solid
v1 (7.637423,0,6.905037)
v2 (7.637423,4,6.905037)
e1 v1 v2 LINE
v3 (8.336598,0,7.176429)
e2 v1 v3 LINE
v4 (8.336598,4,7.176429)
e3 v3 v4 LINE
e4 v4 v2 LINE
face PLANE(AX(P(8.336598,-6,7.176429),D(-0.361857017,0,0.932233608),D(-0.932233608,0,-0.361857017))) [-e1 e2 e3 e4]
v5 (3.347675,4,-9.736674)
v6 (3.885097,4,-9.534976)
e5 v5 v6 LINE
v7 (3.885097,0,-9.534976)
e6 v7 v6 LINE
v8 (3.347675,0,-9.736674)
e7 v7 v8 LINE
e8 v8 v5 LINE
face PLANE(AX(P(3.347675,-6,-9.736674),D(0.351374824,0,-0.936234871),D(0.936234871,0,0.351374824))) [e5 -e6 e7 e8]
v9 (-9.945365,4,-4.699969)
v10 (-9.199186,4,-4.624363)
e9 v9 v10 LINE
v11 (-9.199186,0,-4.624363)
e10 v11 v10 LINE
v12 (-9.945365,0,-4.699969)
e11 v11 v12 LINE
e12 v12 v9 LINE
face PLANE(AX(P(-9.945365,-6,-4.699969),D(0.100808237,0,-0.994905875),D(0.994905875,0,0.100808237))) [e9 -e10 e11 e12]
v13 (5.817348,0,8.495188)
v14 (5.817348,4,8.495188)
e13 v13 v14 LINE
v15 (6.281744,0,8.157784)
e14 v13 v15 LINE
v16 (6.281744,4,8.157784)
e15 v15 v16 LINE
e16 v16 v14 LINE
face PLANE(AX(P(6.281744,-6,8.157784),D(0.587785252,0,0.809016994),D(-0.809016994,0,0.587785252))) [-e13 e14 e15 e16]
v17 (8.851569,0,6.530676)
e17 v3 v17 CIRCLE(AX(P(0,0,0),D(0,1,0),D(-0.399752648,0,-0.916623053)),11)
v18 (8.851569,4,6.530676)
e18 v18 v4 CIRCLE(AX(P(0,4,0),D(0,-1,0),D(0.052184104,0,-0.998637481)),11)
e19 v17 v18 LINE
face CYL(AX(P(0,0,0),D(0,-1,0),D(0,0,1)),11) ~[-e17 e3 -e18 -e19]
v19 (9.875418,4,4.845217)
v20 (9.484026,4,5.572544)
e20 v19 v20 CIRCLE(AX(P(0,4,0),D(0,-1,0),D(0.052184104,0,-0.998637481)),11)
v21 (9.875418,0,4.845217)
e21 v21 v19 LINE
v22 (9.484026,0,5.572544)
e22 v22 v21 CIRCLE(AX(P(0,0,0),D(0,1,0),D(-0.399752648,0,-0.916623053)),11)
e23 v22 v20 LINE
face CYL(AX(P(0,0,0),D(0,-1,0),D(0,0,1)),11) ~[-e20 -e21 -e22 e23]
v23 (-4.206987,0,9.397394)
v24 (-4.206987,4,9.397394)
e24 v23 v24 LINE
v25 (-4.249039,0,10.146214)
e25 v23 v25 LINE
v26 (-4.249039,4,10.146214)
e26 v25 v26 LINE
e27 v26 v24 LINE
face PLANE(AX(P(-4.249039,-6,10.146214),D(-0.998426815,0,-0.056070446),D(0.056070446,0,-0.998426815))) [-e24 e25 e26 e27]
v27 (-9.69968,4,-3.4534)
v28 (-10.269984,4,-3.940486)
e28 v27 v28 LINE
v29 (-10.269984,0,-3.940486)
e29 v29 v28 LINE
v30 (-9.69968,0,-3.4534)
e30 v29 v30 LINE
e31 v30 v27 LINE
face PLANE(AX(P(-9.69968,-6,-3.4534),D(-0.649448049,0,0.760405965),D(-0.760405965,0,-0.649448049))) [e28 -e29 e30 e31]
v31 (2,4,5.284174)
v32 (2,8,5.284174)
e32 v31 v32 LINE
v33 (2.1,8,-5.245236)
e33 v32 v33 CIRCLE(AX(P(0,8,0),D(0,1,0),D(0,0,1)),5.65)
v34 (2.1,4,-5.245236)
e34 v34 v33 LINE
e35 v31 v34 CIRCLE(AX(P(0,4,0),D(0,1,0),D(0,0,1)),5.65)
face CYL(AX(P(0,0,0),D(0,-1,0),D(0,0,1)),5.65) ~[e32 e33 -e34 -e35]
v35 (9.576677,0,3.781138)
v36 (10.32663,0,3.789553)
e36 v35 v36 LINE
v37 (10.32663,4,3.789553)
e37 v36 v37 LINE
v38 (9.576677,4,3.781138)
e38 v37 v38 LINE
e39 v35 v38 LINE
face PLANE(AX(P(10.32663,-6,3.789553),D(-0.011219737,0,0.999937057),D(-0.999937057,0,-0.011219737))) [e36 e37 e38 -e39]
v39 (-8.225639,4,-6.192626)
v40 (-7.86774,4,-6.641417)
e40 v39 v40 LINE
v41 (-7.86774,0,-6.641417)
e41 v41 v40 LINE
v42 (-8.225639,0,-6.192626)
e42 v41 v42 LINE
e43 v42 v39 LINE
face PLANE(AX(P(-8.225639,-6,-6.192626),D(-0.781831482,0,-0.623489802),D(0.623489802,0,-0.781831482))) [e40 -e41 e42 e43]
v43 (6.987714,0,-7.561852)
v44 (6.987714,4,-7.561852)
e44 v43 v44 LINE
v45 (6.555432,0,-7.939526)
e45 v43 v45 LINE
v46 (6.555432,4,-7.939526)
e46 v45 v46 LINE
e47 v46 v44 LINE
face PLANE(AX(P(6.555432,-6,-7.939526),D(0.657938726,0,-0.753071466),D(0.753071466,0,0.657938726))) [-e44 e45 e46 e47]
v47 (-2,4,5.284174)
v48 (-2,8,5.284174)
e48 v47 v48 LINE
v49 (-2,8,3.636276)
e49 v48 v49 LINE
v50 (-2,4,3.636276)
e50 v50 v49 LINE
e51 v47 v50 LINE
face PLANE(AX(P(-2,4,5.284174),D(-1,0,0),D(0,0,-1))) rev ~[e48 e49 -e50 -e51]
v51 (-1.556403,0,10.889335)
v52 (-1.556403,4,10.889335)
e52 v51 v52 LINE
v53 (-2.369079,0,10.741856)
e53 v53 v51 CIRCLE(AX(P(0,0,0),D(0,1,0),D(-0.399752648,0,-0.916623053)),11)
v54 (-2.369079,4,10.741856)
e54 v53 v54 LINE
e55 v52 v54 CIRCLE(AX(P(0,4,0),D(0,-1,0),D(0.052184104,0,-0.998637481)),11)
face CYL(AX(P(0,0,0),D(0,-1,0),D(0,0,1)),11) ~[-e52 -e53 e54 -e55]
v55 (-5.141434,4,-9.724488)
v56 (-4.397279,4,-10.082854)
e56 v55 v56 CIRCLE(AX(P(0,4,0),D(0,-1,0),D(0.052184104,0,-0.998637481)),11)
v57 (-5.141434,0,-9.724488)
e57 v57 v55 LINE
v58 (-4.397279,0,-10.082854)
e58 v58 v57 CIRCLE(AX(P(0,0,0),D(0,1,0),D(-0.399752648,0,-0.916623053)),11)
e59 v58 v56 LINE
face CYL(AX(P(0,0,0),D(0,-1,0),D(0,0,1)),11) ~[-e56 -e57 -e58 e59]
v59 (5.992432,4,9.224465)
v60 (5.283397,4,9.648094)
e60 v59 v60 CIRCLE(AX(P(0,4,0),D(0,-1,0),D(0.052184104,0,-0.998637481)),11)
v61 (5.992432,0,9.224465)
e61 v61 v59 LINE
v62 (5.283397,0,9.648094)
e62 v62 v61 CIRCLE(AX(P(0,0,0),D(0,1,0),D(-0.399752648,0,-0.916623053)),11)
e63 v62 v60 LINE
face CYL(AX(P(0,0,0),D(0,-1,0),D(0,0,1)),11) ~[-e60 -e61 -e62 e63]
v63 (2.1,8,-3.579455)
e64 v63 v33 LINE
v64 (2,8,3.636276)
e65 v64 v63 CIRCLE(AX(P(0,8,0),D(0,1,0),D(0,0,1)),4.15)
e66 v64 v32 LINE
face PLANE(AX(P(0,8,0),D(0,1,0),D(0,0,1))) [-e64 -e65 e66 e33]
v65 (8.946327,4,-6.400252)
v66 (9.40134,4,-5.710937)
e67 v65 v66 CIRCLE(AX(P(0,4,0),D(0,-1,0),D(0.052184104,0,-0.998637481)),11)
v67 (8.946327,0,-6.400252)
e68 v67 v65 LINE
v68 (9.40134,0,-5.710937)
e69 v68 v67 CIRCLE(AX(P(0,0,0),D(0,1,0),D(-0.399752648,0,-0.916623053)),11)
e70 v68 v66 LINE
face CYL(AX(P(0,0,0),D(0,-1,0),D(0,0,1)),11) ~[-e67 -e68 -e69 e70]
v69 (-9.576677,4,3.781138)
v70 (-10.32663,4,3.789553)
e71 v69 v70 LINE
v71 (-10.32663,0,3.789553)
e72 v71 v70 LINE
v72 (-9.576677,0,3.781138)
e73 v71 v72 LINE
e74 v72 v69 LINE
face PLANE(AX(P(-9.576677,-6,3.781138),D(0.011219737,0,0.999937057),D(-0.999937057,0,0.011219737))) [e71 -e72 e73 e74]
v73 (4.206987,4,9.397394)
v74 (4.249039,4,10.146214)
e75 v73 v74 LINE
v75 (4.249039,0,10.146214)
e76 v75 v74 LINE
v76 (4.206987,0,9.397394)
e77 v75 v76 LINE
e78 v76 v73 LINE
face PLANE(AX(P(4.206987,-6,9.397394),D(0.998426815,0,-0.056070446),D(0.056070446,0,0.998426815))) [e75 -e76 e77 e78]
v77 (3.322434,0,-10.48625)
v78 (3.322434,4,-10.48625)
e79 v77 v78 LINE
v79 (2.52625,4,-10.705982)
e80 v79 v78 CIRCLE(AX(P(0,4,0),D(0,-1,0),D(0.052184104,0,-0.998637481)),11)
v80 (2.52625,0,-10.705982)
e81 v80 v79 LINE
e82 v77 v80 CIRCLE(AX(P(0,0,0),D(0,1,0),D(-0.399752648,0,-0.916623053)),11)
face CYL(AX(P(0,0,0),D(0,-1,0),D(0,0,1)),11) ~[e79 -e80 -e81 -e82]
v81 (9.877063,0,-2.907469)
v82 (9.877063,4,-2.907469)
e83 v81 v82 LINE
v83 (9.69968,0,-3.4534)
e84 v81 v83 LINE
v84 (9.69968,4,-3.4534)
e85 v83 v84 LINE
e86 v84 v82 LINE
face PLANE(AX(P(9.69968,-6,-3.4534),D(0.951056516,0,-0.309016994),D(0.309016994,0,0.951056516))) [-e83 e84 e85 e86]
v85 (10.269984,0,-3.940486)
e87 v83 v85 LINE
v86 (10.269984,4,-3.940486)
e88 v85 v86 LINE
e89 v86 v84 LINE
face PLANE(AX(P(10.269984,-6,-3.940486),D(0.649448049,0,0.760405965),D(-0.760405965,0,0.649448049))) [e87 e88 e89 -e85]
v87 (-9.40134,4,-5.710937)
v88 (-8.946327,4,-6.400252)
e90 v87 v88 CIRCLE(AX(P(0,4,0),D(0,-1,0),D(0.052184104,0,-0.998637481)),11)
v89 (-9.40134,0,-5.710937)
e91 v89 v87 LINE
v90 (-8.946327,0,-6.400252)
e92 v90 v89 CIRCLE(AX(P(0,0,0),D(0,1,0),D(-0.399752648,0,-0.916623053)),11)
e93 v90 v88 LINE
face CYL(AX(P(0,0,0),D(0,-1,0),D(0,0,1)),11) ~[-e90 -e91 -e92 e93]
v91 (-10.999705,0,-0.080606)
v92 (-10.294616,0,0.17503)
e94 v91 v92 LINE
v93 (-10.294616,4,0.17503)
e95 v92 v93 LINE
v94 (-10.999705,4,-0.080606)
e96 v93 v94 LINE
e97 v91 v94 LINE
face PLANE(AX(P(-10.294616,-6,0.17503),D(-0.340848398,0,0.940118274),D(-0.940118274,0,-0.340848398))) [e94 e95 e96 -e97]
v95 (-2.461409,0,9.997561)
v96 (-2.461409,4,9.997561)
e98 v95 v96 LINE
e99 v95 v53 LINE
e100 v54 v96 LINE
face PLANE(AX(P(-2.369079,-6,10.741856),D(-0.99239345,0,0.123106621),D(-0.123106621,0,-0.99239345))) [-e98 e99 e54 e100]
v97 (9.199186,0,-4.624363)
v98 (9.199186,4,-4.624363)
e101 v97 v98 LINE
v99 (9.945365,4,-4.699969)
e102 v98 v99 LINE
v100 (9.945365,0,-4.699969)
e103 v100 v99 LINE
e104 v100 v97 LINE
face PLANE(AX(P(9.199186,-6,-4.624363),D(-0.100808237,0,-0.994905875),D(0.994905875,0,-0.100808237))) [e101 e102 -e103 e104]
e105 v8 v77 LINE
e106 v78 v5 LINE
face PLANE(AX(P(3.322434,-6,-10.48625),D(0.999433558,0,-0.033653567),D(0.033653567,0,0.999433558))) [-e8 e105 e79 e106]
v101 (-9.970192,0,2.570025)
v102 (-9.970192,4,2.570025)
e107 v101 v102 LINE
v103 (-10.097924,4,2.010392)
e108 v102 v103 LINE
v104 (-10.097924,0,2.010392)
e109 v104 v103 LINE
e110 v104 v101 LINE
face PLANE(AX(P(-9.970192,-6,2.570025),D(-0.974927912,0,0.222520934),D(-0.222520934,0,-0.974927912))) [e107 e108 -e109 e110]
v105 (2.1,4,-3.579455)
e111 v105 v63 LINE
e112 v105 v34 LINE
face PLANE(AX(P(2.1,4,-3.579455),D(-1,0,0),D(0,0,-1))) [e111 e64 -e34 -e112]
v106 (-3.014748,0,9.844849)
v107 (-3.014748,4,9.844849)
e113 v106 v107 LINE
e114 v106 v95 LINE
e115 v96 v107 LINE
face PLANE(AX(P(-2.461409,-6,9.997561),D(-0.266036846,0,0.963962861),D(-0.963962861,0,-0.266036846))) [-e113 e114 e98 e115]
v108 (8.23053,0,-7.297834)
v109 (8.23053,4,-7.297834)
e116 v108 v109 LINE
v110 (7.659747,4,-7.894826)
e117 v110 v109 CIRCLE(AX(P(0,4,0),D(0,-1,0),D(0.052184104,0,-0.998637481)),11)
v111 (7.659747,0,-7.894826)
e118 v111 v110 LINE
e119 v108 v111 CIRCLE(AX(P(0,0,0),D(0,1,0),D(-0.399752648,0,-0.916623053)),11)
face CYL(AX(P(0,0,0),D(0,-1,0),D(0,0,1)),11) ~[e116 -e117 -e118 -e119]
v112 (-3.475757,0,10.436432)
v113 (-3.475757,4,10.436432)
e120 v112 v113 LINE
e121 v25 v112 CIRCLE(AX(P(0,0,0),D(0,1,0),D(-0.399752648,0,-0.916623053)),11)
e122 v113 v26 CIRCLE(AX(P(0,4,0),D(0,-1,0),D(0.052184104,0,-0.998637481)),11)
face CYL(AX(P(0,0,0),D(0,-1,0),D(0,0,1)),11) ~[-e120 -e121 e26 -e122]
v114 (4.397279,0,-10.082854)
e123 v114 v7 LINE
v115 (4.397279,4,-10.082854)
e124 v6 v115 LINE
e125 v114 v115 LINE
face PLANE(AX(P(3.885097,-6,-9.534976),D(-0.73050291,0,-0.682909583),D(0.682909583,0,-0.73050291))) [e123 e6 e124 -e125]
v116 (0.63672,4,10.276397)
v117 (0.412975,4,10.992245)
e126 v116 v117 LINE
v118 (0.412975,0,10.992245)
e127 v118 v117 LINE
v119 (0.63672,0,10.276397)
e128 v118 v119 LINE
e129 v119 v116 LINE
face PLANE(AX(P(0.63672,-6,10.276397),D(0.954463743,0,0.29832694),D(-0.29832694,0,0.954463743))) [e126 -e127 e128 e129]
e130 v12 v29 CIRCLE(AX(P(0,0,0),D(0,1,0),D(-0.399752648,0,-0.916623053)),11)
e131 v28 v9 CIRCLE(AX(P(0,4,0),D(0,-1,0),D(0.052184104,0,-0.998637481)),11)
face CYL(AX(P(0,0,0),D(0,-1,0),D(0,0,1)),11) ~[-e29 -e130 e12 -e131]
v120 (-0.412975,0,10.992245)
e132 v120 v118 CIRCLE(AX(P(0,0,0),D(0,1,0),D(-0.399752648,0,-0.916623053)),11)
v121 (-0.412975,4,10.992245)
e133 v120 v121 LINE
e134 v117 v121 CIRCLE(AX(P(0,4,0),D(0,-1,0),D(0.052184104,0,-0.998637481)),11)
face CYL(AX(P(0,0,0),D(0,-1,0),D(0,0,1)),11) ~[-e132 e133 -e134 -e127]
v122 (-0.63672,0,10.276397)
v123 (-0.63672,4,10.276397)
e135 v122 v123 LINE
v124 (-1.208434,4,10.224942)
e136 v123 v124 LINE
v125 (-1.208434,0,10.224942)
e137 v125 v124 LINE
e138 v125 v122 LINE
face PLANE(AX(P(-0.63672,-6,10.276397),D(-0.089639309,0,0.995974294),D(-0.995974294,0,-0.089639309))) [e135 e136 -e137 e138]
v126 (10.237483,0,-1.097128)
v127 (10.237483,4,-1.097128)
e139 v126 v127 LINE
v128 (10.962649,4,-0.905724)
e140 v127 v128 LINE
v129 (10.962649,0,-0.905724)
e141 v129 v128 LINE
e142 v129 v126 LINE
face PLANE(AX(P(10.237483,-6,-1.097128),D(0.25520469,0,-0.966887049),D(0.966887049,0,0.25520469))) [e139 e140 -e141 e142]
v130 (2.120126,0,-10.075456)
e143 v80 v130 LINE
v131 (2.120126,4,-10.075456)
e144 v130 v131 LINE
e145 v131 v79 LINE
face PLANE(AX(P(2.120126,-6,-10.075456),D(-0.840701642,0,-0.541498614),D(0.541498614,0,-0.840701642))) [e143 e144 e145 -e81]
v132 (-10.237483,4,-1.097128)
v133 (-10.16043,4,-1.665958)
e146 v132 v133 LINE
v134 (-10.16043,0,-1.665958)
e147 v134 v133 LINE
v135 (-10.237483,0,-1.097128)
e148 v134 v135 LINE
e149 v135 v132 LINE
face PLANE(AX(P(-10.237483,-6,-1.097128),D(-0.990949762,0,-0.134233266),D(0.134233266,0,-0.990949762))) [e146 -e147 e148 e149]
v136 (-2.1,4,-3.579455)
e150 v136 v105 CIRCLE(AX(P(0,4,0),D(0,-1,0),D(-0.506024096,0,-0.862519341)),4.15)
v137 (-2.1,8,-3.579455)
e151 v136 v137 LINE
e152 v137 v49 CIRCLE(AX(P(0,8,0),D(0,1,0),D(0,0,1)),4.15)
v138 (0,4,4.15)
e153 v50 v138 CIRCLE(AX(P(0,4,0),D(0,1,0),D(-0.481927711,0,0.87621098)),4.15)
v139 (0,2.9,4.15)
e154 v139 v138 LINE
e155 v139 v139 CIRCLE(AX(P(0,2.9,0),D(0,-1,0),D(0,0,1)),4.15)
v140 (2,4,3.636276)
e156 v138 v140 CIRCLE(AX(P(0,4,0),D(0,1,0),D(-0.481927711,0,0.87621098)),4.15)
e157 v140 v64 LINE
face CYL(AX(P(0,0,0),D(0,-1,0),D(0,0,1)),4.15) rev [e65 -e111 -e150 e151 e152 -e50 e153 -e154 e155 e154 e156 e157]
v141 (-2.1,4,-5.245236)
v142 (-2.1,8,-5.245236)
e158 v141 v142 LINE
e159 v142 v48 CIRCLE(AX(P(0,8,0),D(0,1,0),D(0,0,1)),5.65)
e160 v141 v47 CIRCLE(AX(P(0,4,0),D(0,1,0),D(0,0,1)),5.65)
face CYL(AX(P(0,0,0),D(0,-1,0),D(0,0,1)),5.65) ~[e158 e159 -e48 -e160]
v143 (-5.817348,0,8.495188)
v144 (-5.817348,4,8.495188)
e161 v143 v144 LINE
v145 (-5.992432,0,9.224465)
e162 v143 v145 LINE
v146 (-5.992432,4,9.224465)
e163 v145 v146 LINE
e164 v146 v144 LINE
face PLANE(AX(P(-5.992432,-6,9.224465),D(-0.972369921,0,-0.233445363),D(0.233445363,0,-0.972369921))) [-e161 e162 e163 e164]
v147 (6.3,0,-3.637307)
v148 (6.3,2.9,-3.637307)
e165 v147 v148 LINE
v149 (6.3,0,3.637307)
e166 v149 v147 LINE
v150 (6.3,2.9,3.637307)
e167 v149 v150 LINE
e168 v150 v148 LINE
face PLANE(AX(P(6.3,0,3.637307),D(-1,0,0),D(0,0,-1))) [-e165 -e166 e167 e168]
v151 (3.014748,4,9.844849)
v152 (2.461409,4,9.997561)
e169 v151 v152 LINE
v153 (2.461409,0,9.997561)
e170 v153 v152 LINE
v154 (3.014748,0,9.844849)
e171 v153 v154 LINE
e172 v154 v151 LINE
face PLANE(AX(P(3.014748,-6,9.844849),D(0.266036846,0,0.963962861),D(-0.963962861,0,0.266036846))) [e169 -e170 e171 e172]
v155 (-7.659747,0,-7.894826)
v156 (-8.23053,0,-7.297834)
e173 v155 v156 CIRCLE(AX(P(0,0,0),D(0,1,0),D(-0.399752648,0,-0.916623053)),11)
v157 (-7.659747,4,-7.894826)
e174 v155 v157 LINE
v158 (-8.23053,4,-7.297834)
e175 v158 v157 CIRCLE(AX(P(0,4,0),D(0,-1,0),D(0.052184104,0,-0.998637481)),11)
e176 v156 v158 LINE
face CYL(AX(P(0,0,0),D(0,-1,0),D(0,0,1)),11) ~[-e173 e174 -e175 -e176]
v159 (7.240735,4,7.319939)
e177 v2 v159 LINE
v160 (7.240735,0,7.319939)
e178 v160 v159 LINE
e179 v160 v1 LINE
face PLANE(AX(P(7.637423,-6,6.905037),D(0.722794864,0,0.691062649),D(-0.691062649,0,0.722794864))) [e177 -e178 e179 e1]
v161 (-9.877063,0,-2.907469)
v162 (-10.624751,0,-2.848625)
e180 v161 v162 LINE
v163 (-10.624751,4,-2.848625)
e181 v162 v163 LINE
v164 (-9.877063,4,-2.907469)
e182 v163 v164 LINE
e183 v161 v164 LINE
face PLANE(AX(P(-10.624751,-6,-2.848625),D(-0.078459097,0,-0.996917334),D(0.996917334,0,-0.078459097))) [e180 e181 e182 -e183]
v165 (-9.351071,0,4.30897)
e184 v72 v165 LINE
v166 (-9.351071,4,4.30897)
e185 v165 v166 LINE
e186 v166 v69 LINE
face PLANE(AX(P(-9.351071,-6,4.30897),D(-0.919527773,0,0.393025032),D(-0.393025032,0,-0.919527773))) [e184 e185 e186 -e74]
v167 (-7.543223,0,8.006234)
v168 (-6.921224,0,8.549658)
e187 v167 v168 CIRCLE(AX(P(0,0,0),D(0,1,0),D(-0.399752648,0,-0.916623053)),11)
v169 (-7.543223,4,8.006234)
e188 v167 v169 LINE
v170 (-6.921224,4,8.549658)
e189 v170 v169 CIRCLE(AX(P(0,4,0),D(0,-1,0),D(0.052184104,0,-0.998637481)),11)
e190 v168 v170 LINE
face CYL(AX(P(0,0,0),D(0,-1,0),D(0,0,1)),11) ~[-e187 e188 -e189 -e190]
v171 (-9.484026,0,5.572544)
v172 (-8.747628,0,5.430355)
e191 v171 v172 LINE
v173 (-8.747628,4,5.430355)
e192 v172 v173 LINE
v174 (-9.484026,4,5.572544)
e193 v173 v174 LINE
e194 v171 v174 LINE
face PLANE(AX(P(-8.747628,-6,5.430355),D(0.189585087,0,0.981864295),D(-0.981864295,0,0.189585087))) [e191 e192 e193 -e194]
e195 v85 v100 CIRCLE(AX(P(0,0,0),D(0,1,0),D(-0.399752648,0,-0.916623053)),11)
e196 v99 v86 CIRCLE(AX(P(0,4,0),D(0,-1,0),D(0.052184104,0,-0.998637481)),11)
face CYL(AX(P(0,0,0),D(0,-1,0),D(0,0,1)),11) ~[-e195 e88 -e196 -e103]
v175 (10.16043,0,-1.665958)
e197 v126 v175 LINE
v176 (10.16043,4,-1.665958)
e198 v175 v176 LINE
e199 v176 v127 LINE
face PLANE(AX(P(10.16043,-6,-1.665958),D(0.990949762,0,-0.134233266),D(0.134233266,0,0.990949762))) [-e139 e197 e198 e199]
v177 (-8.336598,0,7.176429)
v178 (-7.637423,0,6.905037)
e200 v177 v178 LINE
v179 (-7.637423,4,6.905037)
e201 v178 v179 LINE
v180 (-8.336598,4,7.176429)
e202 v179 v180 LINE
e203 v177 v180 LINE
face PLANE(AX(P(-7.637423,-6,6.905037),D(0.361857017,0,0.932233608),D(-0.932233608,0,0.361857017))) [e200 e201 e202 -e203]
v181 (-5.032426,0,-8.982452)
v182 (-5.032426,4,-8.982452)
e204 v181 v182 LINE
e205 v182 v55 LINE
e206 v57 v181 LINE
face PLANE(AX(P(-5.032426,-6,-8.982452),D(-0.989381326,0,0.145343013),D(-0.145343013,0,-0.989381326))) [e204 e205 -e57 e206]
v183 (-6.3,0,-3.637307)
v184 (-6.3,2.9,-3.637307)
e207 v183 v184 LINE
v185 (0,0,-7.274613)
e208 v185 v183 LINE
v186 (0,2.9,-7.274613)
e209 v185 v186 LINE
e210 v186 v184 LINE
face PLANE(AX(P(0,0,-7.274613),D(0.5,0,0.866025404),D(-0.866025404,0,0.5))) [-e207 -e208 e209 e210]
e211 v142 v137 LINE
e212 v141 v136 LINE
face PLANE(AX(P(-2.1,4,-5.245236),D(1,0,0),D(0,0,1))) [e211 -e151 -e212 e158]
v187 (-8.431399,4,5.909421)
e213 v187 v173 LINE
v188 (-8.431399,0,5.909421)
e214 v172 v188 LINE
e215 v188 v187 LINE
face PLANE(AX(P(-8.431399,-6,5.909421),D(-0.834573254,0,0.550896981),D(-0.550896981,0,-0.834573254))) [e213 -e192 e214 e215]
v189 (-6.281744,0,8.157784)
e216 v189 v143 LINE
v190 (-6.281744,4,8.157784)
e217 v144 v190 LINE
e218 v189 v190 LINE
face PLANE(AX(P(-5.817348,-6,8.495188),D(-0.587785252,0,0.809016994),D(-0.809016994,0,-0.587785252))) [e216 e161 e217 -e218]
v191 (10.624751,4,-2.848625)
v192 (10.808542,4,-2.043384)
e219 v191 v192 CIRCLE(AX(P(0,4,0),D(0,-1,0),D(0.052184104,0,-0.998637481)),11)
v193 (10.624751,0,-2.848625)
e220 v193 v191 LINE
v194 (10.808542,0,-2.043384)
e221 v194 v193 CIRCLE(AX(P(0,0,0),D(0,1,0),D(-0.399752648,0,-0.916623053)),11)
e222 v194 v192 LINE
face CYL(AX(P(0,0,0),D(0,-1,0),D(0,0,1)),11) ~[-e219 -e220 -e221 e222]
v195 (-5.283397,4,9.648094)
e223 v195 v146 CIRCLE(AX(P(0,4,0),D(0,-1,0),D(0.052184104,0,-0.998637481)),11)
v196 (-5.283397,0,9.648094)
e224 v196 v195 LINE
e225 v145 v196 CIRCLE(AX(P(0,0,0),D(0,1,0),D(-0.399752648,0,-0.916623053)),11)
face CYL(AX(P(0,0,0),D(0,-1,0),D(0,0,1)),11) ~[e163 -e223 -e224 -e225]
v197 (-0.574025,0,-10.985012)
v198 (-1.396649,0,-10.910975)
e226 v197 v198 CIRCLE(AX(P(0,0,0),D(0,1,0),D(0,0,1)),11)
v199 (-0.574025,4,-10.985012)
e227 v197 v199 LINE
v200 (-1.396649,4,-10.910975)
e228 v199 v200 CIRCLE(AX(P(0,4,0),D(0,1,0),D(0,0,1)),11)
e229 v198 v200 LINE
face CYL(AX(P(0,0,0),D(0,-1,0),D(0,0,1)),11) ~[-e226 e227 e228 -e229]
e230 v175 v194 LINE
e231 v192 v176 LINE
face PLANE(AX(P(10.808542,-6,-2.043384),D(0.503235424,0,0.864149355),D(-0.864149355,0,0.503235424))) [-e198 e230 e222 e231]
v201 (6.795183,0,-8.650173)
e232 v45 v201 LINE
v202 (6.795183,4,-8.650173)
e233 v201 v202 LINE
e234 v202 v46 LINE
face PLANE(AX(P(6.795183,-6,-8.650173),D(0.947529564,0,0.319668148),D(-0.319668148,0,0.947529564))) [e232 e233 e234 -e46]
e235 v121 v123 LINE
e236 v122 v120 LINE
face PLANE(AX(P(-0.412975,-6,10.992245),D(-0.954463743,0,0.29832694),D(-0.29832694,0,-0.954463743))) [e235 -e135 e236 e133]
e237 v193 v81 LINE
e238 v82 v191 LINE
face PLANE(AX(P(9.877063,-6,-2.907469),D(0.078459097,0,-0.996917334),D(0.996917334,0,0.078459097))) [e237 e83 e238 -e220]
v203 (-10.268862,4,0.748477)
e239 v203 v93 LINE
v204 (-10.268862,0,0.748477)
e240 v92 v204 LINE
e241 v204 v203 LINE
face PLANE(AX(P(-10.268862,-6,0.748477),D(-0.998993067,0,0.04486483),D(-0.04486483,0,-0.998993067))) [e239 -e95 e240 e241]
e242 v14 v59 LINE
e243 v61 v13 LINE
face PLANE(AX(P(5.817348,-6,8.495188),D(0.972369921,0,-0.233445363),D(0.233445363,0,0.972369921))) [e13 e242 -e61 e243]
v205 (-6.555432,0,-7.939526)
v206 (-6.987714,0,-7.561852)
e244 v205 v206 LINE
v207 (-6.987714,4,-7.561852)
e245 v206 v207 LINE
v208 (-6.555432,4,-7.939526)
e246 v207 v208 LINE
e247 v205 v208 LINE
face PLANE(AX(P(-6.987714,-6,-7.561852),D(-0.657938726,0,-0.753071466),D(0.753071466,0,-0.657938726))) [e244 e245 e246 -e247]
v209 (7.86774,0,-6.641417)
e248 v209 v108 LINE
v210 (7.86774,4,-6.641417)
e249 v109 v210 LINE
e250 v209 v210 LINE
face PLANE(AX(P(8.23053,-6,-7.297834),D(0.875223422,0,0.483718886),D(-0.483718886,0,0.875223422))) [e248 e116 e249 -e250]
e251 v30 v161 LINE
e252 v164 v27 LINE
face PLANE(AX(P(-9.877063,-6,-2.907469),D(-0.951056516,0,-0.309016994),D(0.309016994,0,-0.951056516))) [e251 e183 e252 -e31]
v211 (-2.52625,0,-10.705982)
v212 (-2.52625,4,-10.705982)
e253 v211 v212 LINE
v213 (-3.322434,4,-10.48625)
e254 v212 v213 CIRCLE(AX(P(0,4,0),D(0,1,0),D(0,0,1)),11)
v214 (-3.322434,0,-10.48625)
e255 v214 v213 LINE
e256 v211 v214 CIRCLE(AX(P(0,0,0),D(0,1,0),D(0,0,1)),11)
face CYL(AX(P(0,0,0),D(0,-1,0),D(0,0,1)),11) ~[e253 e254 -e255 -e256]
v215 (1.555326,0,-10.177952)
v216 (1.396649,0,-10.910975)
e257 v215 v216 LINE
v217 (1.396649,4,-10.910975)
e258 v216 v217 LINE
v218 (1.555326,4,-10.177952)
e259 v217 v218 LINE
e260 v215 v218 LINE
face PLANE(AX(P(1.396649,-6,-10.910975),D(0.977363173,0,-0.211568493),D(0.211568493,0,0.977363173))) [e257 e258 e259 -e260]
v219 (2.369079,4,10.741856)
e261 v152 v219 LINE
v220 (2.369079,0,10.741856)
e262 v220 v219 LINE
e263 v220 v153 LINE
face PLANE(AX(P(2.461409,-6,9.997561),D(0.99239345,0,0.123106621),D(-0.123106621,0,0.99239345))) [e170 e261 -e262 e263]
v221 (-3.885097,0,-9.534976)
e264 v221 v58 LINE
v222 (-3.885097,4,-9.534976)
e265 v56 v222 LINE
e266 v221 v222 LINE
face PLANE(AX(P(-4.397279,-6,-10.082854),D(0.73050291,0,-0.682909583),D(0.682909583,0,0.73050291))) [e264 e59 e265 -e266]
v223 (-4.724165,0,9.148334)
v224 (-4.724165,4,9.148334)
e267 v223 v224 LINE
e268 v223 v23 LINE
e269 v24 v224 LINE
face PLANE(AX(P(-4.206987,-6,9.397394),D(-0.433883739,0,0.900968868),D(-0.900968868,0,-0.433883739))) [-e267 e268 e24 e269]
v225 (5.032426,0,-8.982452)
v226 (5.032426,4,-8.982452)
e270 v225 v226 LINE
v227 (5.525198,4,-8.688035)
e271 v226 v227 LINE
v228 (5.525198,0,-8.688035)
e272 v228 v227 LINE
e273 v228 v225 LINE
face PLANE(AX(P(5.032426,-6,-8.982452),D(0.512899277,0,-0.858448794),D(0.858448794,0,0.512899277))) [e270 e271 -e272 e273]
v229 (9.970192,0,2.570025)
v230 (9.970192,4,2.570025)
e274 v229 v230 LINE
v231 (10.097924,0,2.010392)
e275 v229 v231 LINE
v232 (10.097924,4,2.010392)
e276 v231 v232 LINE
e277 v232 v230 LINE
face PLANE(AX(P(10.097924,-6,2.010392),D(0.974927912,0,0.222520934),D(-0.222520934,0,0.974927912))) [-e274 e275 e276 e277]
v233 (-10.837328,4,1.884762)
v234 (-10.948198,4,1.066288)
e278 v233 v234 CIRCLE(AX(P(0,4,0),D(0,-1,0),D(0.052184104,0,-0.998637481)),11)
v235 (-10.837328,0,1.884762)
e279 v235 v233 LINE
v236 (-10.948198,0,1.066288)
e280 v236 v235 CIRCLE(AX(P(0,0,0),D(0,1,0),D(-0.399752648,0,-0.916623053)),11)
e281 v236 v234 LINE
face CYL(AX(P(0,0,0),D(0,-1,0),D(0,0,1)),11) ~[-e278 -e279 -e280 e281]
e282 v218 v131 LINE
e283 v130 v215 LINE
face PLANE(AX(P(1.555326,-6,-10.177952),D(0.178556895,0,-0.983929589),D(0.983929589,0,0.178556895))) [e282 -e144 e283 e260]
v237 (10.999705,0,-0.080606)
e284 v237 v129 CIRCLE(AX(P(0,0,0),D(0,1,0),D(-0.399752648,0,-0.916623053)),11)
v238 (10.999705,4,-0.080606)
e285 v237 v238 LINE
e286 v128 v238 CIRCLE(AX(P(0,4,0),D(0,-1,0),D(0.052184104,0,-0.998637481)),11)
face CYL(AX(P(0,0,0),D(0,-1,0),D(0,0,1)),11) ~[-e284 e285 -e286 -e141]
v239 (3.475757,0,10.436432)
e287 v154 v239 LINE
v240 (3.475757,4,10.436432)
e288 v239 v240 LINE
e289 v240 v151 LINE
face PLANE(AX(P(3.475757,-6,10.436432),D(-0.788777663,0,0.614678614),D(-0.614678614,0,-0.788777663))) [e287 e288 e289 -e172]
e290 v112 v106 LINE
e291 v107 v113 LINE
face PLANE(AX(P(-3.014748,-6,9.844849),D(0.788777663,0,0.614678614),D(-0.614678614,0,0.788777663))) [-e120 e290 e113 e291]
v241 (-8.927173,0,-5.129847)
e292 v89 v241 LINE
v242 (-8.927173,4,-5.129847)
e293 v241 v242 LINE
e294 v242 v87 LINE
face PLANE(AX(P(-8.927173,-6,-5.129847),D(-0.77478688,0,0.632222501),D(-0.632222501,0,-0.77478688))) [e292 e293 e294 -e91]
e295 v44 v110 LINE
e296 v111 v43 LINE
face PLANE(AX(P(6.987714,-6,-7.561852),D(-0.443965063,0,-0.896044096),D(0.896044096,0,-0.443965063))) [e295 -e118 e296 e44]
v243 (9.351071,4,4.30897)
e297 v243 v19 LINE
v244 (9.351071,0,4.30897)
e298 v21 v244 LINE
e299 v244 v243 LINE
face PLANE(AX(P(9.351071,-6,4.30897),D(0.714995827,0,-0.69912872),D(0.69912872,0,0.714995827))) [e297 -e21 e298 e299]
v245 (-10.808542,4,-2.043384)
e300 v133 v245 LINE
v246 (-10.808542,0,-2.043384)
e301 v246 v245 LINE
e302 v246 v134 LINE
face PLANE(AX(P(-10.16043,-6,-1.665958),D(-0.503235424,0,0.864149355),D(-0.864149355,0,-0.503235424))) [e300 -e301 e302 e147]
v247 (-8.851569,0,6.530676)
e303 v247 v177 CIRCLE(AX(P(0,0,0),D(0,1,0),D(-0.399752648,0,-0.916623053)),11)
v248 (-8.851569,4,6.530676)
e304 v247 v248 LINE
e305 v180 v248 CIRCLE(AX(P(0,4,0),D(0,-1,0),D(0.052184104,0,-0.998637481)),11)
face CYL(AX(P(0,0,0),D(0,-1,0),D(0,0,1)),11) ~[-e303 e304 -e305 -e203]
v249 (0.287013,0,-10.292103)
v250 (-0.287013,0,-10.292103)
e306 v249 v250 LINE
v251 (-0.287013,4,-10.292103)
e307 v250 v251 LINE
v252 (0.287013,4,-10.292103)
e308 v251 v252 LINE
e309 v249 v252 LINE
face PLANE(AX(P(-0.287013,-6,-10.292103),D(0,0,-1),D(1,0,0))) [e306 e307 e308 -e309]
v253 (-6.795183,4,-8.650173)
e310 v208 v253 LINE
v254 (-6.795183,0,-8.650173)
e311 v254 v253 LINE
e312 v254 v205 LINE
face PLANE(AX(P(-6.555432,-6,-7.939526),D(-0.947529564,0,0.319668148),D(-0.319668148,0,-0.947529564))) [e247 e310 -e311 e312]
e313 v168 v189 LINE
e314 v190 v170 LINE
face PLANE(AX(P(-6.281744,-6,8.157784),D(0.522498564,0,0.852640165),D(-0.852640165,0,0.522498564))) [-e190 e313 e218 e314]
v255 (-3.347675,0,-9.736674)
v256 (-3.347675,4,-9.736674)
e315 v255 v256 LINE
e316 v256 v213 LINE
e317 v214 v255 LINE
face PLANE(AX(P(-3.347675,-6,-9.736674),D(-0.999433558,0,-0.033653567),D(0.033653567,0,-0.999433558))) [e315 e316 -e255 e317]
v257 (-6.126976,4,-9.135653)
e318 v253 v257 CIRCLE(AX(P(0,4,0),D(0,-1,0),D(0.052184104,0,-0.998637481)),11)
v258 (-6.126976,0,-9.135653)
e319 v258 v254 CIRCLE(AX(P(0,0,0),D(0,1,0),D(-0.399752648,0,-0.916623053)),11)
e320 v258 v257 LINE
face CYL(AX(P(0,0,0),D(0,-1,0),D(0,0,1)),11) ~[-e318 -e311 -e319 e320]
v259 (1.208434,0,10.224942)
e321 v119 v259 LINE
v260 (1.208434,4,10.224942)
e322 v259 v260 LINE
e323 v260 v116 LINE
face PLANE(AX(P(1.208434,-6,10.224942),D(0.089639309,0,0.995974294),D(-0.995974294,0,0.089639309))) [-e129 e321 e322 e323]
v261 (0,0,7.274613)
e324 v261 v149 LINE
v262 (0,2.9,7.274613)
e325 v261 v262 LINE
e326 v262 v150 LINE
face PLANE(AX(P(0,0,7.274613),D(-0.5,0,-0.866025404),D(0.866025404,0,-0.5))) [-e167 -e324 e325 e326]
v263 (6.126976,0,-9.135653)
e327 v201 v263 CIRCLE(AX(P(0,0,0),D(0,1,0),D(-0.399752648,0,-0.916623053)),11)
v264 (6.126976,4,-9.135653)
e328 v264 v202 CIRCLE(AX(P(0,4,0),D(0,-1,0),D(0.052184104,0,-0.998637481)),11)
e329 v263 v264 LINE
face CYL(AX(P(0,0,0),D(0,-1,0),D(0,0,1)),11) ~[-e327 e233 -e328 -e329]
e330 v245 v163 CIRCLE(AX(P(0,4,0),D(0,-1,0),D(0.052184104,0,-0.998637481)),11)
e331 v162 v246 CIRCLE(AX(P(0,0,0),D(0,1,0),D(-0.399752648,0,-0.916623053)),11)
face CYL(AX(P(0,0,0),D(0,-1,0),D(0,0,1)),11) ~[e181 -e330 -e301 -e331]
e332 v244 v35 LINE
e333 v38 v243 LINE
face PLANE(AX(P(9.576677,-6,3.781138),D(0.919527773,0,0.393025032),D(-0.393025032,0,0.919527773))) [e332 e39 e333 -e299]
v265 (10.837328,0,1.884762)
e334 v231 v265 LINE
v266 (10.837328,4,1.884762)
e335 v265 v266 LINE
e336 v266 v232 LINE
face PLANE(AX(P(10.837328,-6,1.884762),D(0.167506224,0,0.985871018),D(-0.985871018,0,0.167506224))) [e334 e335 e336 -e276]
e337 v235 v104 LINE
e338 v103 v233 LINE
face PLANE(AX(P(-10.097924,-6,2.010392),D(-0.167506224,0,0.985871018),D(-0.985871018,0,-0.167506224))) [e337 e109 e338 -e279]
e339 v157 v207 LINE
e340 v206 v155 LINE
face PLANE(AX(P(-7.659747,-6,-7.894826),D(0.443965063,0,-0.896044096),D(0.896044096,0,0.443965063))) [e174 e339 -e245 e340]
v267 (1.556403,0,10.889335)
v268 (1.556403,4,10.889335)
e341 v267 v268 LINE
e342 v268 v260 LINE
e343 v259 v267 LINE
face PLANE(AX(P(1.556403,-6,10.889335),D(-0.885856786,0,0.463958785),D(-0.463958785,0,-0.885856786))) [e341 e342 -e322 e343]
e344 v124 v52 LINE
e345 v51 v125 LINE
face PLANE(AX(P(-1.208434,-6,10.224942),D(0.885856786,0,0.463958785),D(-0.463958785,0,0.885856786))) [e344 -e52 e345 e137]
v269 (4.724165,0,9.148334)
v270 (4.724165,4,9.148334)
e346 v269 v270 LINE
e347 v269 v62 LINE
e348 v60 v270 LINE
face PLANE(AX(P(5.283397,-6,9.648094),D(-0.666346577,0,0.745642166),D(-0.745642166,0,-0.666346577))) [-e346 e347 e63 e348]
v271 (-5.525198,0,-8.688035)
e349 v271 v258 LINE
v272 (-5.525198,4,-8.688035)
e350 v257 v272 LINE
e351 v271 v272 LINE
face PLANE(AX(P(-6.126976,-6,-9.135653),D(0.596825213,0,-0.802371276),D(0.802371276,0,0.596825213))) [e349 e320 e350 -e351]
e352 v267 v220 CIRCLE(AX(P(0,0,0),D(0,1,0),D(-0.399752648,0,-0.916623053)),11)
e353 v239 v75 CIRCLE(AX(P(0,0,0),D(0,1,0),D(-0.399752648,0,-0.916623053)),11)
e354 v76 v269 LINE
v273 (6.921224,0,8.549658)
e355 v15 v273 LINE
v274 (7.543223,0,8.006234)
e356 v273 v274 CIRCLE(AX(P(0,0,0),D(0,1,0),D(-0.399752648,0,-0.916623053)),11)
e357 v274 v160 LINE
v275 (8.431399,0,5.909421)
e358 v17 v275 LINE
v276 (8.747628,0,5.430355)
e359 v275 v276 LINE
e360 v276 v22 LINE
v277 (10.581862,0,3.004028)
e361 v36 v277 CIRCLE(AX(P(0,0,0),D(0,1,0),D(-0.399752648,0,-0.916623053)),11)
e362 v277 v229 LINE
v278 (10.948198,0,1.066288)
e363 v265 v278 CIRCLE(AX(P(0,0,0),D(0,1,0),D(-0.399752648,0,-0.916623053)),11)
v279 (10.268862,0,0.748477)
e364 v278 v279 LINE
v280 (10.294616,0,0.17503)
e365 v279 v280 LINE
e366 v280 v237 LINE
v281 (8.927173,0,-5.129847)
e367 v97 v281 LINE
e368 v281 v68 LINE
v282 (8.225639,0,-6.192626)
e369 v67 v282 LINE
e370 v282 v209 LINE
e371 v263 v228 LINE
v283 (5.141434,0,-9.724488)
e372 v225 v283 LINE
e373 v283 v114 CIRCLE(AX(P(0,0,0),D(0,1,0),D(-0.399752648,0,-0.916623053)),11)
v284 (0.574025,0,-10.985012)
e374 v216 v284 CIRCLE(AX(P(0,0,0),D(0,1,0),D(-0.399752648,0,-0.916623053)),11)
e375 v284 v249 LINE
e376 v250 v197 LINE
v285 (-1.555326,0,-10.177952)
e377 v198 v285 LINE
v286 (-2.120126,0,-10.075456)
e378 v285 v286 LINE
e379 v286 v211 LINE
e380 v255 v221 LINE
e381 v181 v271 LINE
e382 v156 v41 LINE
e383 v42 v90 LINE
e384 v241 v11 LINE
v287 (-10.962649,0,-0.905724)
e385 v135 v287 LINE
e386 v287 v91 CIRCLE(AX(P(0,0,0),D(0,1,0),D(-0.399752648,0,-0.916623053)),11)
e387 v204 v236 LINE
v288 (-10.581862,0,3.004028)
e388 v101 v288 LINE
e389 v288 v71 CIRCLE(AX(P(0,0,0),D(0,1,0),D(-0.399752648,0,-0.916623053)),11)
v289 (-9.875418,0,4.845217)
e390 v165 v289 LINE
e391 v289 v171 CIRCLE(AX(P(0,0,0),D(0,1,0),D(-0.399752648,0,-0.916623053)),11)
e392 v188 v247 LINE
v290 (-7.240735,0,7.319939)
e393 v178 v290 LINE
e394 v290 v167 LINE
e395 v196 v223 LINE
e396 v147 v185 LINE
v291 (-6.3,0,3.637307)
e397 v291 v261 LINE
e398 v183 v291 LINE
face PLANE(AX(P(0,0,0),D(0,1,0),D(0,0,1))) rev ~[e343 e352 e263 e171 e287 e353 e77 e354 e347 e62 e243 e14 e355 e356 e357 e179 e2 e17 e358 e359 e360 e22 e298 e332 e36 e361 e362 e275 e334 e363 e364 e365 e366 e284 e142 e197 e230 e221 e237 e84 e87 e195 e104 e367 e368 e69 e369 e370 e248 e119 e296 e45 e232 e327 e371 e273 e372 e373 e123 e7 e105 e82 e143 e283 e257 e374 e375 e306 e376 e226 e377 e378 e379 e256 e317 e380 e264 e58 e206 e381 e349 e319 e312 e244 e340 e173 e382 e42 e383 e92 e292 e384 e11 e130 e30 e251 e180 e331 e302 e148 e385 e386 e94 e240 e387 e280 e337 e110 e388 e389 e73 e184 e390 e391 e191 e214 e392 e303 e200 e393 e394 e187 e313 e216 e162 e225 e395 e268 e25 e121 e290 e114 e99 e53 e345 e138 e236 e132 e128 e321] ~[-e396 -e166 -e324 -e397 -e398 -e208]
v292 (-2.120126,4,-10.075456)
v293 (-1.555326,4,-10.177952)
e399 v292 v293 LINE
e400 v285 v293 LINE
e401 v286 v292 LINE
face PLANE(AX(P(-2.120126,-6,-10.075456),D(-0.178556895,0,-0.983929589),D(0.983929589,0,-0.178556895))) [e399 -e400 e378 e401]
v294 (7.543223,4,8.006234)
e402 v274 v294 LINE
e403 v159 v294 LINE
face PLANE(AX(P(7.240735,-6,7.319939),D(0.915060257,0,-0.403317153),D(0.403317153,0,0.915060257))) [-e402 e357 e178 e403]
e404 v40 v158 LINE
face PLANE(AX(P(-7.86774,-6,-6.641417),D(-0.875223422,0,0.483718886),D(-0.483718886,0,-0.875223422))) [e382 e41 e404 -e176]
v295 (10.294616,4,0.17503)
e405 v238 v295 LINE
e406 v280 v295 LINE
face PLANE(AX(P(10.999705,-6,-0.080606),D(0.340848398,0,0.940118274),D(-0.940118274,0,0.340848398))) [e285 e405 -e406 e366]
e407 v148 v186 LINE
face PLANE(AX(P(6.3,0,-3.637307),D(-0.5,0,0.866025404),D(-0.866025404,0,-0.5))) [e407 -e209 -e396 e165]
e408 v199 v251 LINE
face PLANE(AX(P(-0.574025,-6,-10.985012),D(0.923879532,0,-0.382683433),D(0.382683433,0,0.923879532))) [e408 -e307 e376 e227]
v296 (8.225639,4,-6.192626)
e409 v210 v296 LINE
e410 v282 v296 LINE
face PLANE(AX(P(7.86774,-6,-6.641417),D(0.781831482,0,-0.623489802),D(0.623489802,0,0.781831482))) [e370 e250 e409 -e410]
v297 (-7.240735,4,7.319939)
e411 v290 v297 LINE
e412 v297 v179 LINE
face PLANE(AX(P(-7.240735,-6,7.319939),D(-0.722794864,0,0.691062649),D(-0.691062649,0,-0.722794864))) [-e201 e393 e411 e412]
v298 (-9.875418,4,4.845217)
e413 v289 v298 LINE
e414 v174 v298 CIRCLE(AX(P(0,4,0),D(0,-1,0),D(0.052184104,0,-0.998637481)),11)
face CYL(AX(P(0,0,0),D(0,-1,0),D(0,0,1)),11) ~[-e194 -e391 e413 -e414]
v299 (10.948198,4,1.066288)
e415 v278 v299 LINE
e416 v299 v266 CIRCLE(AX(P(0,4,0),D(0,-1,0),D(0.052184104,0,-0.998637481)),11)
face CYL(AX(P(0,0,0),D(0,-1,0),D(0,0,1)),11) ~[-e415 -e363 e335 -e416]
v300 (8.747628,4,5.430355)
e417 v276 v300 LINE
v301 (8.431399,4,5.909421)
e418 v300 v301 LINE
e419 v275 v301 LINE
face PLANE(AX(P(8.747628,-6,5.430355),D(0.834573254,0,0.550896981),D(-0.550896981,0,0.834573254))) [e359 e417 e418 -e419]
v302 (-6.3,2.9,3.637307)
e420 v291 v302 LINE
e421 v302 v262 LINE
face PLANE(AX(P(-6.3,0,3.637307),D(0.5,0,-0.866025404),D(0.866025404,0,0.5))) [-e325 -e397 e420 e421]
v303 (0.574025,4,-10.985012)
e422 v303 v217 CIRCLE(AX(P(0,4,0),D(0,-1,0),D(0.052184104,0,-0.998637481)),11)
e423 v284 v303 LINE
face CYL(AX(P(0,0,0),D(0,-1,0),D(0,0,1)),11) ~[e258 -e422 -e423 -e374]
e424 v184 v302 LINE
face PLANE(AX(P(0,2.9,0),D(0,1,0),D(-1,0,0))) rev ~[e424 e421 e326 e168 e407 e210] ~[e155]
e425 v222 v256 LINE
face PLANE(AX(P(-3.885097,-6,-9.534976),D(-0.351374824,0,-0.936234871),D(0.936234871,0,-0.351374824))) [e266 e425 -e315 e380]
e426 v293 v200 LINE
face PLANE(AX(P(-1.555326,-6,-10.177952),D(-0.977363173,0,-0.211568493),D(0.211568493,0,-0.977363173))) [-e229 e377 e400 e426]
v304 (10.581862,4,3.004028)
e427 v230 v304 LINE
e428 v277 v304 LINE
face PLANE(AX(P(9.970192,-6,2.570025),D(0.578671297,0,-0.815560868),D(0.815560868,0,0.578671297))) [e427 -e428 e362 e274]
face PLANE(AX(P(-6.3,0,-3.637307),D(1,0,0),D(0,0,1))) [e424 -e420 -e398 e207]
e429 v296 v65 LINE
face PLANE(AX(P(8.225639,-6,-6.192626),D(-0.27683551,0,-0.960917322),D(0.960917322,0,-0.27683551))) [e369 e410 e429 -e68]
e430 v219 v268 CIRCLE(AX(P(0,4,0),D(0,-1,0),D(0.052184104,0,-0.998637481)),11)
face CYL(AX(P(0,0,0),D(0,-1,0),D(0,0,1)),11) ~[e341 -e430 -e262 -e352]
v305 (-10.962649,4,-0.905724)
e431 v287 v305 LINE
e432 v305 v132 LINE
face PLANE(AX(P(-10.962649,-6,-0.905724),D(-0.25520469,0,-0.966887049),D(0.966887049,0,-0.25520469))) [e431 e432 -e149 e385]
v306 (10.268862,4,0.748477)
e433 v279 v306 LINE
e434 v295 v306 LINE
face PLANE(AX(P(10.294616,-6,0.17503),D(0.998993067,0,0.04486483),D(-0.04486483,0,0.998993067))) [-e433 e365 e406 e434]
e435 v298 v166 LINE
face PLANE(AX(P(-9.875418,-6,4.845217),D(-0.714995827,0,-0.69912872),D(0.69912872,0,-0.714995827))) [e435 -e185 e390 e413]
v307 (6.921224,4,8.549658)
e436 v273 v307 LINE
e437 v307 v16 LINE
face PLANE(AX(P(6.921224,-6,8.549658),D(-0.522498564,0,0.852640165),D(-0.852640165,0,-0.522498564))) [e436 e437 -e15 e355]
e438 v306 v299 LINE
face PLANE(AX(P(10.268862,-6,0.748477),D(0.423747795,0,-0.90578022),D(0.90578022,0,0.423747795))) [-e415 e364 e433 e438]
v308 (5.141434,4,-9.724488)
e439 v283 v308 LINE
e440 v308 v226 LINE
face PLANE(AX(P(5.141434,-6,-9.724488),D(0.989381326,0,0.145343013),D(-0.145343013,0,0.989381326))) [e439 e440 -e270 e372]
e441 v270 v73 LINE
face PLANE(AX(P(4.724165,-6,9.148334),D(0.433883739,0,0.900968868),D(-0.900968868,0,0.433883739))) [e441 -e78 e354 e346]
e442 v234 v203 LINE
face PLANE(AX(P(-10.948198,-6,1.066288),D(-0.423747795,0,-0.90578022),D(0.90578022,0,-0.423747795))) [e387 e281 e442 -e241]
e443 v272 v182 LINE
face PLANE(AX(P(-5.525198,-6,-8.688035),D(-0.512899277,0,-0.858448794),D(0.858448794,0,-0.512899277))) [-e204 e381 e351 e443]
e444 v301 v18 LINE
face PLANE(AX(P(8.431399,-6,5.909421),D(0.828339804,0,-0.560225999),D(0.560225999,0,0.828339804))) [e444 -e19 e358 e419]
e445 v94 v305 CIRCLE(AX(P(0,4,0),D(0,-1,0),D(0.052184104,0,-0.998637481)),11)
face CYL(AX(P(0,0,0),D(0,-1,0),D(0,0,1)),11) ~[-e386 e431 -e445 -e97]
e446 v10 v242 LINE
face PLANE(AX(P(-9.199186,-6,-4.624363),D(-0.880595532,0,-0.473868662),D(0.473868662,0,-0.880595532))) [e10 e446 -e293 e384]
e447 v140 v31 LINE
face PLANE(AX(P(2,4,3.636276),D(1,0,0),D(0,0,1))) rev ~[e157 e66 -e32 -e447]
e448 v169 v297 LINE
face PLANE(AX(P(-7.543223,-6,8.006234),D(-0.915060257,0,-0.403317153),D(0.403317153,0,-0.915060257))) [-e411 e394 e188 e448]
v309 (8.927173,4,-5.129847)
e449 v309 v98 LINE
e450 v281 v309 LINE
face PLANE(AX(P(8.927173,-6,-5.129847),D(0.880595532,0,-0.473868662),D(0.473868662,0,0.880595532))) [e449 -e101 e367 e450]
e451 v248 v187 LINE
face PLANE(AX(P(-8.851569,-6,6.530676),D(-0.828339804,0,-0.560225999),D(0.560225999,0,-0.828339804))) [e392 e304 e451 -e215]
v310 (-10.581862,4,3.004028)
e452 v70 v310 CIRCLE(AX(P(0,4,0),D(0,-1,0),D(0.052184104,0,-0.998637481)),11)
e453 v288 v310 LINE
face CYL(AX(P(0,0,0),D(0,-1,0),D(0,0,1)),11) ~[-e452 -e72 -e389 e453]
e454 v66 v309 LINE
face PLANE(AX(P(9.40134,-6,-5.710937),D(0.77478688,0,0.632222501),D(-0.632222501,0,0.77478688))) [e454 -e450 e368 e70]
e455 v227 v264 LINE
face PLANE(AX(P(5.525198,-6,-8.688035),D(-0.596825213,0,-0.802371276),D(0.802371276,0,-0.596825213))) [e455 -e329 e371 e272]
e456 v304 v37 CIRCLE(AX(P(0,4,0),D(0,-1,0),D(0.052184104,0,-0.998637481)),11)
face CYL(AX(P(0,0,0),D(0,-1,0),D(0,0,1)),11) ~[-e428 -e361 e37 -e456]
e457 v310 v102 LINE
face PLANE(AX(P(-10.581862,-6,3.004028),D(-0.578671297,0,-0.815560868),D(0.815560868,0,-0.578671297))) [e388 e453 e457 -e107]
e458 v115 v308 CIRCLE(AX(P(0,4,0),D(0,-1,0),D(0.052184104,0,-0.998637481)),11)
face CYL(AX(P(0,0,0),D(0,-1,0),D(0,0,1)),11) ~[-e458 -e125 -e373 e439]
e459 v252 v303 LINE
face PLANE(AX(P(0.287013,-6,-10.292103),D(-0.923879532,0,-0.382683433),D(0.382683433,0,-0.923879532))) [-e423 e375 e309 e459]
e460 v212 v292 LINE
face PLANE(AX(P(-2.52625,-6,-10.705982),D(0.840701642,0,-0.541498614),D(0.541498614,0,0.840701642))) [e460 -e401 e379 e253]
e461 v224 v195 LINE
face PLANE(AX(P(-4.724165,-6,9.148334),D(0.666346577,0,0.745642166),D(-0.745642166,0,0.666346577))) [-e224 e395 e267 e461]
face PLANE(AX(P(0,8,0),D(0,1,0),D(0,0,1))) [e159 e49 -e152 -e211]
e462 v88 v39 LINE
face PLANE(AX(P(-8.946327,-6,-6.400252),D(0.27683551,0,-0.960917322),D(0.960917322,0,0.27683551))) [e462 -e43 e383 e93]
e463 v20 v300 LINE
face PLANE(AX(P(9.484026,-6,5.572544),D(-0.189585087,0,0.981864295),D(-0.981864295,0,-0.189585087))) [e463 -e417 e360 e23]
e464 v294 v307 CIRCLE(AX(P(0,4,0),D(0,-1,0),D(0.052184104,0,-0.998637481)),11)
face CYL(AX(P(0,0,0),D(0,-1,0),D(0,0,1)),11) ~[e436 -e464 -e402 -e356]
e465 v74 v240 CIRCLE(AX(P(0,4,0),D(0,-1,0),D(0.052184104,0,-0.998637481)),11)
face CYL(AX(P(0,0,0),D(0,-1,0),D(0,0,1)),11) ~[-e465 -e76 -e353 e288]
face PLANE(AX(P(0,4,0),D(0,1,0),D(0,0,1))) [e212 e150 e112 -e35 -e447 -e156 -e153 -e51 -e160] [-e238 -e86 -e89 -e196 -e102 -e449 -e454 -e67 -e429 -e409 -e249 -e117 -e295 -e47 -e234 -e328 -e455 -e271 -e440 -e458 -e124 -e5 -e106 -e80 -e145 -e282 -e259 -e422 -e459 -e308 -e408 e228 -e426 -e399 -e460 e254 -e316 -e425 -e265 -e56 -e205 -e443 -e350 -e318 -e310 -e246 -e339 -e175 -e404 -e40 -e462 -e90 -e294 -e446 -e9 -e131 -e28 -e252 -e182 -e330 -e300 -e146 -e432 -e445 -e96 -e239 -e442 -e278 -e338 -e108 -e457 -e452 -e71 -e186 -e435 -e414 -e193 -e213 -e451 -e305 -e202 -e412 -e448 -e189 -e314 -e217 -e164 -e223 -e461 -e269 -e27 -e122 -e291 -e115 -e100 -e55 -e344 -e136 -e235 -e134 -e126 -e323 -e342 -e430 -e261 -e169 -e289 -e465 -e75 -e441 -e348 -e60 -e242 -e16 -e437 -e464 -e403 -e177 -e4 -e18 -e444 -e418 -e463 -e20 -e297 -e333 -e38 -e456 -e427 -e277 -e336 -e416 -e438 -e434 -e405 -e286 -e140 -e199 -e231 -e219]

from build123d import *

# Parameters (mm, degrees)
SKETCH_1_R               = 5.65
SKETCH_1_R_2             = 4.15
EXTRUDE_1_DEPTH          = 8
SKETCH_1_3_R             = 11
SKETCH_1_3_R_2           = 5.65
EXTRUDE_2_DEPTH          = 4
CUT_EXTRUDE_1_DEPTH      = 2.9
CUT_EXTRUDE_START        = -4
CUT_EXTRUDE_3_DEPTH      = 4
CUT_EXTRUDE_START_2      = -10
CUT_EXTRUDE_4_DEPTH      = 10
PATTERN_CIRCULAR_1_COUNT = 35


with BuildPart() as part:
    # 草图1 → 凸台-拉伸1 (new body)
    with BuildSketch(Plane(origin=(0, 0, 0), x_dir=(1, 0, 0), z_dir=(0, 1, 0))):
        with Locations(Location((0, 0, 0), (0, 0, 270))):
            Circle(SKETCH_1_R)
        with Locations(Location((0, 0, 0), (0, 0, 270))):
            Circle(SKETCH_1_R_2, mode=Mode.SUBTRACT)
    extrude(amount=EXTRUDE_1_DEPTH)

    # 草图1<3> → 凸台-拉伸2 (add)
    with BuildSketch(Plane(origin=(0, 0, 0), x_dir=(1, 0, 0), z_dir=(0, 1, 0))):
        with Locations(Location((0, 0, 0), (0, 0, 270))):
            Circle(SKETCH_1_3_R)
        with Locations(Location((0, 0, 0), (0, 0, 270))):
            Circle(SKETCH_1_3_R_2, mode=Mode.SUBTRACT)
    extrude(amount=EXTRUDE_2_DEPTH)

    # 草图2 → 切除-拉伸1 (cut)
    with BuildSketch(Plane.XZ):
        Polygon((0, -7.274613392), (-6.3, -3.637306696), (-6.3, 3.637306696), (0, 7.274613392), (6.3, 3.637306696), (6.3, -3.637306696), align=None)
    extrude(amount=-CUT_EXTRUDE_1_DEPTH, mode=Mode.SUBTRACT)

    # 草图4 → 切除-拉伸3 (cut)
    with BuildSketch(Plane(origin=(0, 8, 0), x_dir=(1, 0, 0), z_dir=(0, 1, 0)).offset(CUT_EXTRUDE_START)):
        with BuildLine():
            Line((-2.1, 5.245235934), (-2.1, 3.579455266))
            ThreePointArc((-2.1, 3.579455266), (0, 4.15), (2.1, 3.579455266))
            Line((2.1, 3.579455266), (2.1, 5.245235934))
            ThreePointArc((2.1, 5.245235934), (0, 5.65), (-2.1, 5.245235934))
        make_face()
        with BuildLine():
            Line((2, -3.636275567), (2, -5.284174486))
            ThreePointArc((2, -5.284174486), (0, -5.65), (-2, -5.284174486))
            Line((-2, -5.284174486), (-2, -3.636275567))
            ThreePointArc((-2, -3.636275567), (0, -4.15), (2, -3.636275567))
        make_face()
    extrude(amount=CUT_EXTRUDE_3_DEPTH, mode=Mode.SUBTRACT)

    # 草图5 → 切除-拉伸4 (cut)
    with BuildSketch(Plane(origin=(0, 4, 0), x_dir=(1, 0, 0), z_dir=(0, 1, 0)).offset(CUT_EXTRUDE_START_2)):
        with BuildLine():
            ThreePointArc((0.574025149, 10.985012295), (0, 11), (-0.574025149, 10.985012295))
            Line((-0.574025149, 10.985012295), (-0.287012574, 10.292102646))
            Line((-0.287012574, 10.292102646), (0.287012574, 10.292102646))
            Line((0.287012574, 10.292102646), (0.574025149, 10.985012295))
        make_face()
    cut_extrude_4 = extrude(amount=CUT_EXTRUDE_4_DEPTH, mode=Mode.SUBTRACT)

    # 阵列(圆周)1: 切除-拉伸4 ×35 about axis
    pattern_circular_1_axis = Axis((0, 0, 0), (0, 1, 0))
    for i in range(1, PATTERN_CIRCULAR_1_COUNT):
        add(cut_extrude_4.rotate(pattern_circular_1_axis, i * 360 / PATTERN_CIRCULAR_1_COUNT), mode=Mode.SUBTRACT)


solid = part.part
